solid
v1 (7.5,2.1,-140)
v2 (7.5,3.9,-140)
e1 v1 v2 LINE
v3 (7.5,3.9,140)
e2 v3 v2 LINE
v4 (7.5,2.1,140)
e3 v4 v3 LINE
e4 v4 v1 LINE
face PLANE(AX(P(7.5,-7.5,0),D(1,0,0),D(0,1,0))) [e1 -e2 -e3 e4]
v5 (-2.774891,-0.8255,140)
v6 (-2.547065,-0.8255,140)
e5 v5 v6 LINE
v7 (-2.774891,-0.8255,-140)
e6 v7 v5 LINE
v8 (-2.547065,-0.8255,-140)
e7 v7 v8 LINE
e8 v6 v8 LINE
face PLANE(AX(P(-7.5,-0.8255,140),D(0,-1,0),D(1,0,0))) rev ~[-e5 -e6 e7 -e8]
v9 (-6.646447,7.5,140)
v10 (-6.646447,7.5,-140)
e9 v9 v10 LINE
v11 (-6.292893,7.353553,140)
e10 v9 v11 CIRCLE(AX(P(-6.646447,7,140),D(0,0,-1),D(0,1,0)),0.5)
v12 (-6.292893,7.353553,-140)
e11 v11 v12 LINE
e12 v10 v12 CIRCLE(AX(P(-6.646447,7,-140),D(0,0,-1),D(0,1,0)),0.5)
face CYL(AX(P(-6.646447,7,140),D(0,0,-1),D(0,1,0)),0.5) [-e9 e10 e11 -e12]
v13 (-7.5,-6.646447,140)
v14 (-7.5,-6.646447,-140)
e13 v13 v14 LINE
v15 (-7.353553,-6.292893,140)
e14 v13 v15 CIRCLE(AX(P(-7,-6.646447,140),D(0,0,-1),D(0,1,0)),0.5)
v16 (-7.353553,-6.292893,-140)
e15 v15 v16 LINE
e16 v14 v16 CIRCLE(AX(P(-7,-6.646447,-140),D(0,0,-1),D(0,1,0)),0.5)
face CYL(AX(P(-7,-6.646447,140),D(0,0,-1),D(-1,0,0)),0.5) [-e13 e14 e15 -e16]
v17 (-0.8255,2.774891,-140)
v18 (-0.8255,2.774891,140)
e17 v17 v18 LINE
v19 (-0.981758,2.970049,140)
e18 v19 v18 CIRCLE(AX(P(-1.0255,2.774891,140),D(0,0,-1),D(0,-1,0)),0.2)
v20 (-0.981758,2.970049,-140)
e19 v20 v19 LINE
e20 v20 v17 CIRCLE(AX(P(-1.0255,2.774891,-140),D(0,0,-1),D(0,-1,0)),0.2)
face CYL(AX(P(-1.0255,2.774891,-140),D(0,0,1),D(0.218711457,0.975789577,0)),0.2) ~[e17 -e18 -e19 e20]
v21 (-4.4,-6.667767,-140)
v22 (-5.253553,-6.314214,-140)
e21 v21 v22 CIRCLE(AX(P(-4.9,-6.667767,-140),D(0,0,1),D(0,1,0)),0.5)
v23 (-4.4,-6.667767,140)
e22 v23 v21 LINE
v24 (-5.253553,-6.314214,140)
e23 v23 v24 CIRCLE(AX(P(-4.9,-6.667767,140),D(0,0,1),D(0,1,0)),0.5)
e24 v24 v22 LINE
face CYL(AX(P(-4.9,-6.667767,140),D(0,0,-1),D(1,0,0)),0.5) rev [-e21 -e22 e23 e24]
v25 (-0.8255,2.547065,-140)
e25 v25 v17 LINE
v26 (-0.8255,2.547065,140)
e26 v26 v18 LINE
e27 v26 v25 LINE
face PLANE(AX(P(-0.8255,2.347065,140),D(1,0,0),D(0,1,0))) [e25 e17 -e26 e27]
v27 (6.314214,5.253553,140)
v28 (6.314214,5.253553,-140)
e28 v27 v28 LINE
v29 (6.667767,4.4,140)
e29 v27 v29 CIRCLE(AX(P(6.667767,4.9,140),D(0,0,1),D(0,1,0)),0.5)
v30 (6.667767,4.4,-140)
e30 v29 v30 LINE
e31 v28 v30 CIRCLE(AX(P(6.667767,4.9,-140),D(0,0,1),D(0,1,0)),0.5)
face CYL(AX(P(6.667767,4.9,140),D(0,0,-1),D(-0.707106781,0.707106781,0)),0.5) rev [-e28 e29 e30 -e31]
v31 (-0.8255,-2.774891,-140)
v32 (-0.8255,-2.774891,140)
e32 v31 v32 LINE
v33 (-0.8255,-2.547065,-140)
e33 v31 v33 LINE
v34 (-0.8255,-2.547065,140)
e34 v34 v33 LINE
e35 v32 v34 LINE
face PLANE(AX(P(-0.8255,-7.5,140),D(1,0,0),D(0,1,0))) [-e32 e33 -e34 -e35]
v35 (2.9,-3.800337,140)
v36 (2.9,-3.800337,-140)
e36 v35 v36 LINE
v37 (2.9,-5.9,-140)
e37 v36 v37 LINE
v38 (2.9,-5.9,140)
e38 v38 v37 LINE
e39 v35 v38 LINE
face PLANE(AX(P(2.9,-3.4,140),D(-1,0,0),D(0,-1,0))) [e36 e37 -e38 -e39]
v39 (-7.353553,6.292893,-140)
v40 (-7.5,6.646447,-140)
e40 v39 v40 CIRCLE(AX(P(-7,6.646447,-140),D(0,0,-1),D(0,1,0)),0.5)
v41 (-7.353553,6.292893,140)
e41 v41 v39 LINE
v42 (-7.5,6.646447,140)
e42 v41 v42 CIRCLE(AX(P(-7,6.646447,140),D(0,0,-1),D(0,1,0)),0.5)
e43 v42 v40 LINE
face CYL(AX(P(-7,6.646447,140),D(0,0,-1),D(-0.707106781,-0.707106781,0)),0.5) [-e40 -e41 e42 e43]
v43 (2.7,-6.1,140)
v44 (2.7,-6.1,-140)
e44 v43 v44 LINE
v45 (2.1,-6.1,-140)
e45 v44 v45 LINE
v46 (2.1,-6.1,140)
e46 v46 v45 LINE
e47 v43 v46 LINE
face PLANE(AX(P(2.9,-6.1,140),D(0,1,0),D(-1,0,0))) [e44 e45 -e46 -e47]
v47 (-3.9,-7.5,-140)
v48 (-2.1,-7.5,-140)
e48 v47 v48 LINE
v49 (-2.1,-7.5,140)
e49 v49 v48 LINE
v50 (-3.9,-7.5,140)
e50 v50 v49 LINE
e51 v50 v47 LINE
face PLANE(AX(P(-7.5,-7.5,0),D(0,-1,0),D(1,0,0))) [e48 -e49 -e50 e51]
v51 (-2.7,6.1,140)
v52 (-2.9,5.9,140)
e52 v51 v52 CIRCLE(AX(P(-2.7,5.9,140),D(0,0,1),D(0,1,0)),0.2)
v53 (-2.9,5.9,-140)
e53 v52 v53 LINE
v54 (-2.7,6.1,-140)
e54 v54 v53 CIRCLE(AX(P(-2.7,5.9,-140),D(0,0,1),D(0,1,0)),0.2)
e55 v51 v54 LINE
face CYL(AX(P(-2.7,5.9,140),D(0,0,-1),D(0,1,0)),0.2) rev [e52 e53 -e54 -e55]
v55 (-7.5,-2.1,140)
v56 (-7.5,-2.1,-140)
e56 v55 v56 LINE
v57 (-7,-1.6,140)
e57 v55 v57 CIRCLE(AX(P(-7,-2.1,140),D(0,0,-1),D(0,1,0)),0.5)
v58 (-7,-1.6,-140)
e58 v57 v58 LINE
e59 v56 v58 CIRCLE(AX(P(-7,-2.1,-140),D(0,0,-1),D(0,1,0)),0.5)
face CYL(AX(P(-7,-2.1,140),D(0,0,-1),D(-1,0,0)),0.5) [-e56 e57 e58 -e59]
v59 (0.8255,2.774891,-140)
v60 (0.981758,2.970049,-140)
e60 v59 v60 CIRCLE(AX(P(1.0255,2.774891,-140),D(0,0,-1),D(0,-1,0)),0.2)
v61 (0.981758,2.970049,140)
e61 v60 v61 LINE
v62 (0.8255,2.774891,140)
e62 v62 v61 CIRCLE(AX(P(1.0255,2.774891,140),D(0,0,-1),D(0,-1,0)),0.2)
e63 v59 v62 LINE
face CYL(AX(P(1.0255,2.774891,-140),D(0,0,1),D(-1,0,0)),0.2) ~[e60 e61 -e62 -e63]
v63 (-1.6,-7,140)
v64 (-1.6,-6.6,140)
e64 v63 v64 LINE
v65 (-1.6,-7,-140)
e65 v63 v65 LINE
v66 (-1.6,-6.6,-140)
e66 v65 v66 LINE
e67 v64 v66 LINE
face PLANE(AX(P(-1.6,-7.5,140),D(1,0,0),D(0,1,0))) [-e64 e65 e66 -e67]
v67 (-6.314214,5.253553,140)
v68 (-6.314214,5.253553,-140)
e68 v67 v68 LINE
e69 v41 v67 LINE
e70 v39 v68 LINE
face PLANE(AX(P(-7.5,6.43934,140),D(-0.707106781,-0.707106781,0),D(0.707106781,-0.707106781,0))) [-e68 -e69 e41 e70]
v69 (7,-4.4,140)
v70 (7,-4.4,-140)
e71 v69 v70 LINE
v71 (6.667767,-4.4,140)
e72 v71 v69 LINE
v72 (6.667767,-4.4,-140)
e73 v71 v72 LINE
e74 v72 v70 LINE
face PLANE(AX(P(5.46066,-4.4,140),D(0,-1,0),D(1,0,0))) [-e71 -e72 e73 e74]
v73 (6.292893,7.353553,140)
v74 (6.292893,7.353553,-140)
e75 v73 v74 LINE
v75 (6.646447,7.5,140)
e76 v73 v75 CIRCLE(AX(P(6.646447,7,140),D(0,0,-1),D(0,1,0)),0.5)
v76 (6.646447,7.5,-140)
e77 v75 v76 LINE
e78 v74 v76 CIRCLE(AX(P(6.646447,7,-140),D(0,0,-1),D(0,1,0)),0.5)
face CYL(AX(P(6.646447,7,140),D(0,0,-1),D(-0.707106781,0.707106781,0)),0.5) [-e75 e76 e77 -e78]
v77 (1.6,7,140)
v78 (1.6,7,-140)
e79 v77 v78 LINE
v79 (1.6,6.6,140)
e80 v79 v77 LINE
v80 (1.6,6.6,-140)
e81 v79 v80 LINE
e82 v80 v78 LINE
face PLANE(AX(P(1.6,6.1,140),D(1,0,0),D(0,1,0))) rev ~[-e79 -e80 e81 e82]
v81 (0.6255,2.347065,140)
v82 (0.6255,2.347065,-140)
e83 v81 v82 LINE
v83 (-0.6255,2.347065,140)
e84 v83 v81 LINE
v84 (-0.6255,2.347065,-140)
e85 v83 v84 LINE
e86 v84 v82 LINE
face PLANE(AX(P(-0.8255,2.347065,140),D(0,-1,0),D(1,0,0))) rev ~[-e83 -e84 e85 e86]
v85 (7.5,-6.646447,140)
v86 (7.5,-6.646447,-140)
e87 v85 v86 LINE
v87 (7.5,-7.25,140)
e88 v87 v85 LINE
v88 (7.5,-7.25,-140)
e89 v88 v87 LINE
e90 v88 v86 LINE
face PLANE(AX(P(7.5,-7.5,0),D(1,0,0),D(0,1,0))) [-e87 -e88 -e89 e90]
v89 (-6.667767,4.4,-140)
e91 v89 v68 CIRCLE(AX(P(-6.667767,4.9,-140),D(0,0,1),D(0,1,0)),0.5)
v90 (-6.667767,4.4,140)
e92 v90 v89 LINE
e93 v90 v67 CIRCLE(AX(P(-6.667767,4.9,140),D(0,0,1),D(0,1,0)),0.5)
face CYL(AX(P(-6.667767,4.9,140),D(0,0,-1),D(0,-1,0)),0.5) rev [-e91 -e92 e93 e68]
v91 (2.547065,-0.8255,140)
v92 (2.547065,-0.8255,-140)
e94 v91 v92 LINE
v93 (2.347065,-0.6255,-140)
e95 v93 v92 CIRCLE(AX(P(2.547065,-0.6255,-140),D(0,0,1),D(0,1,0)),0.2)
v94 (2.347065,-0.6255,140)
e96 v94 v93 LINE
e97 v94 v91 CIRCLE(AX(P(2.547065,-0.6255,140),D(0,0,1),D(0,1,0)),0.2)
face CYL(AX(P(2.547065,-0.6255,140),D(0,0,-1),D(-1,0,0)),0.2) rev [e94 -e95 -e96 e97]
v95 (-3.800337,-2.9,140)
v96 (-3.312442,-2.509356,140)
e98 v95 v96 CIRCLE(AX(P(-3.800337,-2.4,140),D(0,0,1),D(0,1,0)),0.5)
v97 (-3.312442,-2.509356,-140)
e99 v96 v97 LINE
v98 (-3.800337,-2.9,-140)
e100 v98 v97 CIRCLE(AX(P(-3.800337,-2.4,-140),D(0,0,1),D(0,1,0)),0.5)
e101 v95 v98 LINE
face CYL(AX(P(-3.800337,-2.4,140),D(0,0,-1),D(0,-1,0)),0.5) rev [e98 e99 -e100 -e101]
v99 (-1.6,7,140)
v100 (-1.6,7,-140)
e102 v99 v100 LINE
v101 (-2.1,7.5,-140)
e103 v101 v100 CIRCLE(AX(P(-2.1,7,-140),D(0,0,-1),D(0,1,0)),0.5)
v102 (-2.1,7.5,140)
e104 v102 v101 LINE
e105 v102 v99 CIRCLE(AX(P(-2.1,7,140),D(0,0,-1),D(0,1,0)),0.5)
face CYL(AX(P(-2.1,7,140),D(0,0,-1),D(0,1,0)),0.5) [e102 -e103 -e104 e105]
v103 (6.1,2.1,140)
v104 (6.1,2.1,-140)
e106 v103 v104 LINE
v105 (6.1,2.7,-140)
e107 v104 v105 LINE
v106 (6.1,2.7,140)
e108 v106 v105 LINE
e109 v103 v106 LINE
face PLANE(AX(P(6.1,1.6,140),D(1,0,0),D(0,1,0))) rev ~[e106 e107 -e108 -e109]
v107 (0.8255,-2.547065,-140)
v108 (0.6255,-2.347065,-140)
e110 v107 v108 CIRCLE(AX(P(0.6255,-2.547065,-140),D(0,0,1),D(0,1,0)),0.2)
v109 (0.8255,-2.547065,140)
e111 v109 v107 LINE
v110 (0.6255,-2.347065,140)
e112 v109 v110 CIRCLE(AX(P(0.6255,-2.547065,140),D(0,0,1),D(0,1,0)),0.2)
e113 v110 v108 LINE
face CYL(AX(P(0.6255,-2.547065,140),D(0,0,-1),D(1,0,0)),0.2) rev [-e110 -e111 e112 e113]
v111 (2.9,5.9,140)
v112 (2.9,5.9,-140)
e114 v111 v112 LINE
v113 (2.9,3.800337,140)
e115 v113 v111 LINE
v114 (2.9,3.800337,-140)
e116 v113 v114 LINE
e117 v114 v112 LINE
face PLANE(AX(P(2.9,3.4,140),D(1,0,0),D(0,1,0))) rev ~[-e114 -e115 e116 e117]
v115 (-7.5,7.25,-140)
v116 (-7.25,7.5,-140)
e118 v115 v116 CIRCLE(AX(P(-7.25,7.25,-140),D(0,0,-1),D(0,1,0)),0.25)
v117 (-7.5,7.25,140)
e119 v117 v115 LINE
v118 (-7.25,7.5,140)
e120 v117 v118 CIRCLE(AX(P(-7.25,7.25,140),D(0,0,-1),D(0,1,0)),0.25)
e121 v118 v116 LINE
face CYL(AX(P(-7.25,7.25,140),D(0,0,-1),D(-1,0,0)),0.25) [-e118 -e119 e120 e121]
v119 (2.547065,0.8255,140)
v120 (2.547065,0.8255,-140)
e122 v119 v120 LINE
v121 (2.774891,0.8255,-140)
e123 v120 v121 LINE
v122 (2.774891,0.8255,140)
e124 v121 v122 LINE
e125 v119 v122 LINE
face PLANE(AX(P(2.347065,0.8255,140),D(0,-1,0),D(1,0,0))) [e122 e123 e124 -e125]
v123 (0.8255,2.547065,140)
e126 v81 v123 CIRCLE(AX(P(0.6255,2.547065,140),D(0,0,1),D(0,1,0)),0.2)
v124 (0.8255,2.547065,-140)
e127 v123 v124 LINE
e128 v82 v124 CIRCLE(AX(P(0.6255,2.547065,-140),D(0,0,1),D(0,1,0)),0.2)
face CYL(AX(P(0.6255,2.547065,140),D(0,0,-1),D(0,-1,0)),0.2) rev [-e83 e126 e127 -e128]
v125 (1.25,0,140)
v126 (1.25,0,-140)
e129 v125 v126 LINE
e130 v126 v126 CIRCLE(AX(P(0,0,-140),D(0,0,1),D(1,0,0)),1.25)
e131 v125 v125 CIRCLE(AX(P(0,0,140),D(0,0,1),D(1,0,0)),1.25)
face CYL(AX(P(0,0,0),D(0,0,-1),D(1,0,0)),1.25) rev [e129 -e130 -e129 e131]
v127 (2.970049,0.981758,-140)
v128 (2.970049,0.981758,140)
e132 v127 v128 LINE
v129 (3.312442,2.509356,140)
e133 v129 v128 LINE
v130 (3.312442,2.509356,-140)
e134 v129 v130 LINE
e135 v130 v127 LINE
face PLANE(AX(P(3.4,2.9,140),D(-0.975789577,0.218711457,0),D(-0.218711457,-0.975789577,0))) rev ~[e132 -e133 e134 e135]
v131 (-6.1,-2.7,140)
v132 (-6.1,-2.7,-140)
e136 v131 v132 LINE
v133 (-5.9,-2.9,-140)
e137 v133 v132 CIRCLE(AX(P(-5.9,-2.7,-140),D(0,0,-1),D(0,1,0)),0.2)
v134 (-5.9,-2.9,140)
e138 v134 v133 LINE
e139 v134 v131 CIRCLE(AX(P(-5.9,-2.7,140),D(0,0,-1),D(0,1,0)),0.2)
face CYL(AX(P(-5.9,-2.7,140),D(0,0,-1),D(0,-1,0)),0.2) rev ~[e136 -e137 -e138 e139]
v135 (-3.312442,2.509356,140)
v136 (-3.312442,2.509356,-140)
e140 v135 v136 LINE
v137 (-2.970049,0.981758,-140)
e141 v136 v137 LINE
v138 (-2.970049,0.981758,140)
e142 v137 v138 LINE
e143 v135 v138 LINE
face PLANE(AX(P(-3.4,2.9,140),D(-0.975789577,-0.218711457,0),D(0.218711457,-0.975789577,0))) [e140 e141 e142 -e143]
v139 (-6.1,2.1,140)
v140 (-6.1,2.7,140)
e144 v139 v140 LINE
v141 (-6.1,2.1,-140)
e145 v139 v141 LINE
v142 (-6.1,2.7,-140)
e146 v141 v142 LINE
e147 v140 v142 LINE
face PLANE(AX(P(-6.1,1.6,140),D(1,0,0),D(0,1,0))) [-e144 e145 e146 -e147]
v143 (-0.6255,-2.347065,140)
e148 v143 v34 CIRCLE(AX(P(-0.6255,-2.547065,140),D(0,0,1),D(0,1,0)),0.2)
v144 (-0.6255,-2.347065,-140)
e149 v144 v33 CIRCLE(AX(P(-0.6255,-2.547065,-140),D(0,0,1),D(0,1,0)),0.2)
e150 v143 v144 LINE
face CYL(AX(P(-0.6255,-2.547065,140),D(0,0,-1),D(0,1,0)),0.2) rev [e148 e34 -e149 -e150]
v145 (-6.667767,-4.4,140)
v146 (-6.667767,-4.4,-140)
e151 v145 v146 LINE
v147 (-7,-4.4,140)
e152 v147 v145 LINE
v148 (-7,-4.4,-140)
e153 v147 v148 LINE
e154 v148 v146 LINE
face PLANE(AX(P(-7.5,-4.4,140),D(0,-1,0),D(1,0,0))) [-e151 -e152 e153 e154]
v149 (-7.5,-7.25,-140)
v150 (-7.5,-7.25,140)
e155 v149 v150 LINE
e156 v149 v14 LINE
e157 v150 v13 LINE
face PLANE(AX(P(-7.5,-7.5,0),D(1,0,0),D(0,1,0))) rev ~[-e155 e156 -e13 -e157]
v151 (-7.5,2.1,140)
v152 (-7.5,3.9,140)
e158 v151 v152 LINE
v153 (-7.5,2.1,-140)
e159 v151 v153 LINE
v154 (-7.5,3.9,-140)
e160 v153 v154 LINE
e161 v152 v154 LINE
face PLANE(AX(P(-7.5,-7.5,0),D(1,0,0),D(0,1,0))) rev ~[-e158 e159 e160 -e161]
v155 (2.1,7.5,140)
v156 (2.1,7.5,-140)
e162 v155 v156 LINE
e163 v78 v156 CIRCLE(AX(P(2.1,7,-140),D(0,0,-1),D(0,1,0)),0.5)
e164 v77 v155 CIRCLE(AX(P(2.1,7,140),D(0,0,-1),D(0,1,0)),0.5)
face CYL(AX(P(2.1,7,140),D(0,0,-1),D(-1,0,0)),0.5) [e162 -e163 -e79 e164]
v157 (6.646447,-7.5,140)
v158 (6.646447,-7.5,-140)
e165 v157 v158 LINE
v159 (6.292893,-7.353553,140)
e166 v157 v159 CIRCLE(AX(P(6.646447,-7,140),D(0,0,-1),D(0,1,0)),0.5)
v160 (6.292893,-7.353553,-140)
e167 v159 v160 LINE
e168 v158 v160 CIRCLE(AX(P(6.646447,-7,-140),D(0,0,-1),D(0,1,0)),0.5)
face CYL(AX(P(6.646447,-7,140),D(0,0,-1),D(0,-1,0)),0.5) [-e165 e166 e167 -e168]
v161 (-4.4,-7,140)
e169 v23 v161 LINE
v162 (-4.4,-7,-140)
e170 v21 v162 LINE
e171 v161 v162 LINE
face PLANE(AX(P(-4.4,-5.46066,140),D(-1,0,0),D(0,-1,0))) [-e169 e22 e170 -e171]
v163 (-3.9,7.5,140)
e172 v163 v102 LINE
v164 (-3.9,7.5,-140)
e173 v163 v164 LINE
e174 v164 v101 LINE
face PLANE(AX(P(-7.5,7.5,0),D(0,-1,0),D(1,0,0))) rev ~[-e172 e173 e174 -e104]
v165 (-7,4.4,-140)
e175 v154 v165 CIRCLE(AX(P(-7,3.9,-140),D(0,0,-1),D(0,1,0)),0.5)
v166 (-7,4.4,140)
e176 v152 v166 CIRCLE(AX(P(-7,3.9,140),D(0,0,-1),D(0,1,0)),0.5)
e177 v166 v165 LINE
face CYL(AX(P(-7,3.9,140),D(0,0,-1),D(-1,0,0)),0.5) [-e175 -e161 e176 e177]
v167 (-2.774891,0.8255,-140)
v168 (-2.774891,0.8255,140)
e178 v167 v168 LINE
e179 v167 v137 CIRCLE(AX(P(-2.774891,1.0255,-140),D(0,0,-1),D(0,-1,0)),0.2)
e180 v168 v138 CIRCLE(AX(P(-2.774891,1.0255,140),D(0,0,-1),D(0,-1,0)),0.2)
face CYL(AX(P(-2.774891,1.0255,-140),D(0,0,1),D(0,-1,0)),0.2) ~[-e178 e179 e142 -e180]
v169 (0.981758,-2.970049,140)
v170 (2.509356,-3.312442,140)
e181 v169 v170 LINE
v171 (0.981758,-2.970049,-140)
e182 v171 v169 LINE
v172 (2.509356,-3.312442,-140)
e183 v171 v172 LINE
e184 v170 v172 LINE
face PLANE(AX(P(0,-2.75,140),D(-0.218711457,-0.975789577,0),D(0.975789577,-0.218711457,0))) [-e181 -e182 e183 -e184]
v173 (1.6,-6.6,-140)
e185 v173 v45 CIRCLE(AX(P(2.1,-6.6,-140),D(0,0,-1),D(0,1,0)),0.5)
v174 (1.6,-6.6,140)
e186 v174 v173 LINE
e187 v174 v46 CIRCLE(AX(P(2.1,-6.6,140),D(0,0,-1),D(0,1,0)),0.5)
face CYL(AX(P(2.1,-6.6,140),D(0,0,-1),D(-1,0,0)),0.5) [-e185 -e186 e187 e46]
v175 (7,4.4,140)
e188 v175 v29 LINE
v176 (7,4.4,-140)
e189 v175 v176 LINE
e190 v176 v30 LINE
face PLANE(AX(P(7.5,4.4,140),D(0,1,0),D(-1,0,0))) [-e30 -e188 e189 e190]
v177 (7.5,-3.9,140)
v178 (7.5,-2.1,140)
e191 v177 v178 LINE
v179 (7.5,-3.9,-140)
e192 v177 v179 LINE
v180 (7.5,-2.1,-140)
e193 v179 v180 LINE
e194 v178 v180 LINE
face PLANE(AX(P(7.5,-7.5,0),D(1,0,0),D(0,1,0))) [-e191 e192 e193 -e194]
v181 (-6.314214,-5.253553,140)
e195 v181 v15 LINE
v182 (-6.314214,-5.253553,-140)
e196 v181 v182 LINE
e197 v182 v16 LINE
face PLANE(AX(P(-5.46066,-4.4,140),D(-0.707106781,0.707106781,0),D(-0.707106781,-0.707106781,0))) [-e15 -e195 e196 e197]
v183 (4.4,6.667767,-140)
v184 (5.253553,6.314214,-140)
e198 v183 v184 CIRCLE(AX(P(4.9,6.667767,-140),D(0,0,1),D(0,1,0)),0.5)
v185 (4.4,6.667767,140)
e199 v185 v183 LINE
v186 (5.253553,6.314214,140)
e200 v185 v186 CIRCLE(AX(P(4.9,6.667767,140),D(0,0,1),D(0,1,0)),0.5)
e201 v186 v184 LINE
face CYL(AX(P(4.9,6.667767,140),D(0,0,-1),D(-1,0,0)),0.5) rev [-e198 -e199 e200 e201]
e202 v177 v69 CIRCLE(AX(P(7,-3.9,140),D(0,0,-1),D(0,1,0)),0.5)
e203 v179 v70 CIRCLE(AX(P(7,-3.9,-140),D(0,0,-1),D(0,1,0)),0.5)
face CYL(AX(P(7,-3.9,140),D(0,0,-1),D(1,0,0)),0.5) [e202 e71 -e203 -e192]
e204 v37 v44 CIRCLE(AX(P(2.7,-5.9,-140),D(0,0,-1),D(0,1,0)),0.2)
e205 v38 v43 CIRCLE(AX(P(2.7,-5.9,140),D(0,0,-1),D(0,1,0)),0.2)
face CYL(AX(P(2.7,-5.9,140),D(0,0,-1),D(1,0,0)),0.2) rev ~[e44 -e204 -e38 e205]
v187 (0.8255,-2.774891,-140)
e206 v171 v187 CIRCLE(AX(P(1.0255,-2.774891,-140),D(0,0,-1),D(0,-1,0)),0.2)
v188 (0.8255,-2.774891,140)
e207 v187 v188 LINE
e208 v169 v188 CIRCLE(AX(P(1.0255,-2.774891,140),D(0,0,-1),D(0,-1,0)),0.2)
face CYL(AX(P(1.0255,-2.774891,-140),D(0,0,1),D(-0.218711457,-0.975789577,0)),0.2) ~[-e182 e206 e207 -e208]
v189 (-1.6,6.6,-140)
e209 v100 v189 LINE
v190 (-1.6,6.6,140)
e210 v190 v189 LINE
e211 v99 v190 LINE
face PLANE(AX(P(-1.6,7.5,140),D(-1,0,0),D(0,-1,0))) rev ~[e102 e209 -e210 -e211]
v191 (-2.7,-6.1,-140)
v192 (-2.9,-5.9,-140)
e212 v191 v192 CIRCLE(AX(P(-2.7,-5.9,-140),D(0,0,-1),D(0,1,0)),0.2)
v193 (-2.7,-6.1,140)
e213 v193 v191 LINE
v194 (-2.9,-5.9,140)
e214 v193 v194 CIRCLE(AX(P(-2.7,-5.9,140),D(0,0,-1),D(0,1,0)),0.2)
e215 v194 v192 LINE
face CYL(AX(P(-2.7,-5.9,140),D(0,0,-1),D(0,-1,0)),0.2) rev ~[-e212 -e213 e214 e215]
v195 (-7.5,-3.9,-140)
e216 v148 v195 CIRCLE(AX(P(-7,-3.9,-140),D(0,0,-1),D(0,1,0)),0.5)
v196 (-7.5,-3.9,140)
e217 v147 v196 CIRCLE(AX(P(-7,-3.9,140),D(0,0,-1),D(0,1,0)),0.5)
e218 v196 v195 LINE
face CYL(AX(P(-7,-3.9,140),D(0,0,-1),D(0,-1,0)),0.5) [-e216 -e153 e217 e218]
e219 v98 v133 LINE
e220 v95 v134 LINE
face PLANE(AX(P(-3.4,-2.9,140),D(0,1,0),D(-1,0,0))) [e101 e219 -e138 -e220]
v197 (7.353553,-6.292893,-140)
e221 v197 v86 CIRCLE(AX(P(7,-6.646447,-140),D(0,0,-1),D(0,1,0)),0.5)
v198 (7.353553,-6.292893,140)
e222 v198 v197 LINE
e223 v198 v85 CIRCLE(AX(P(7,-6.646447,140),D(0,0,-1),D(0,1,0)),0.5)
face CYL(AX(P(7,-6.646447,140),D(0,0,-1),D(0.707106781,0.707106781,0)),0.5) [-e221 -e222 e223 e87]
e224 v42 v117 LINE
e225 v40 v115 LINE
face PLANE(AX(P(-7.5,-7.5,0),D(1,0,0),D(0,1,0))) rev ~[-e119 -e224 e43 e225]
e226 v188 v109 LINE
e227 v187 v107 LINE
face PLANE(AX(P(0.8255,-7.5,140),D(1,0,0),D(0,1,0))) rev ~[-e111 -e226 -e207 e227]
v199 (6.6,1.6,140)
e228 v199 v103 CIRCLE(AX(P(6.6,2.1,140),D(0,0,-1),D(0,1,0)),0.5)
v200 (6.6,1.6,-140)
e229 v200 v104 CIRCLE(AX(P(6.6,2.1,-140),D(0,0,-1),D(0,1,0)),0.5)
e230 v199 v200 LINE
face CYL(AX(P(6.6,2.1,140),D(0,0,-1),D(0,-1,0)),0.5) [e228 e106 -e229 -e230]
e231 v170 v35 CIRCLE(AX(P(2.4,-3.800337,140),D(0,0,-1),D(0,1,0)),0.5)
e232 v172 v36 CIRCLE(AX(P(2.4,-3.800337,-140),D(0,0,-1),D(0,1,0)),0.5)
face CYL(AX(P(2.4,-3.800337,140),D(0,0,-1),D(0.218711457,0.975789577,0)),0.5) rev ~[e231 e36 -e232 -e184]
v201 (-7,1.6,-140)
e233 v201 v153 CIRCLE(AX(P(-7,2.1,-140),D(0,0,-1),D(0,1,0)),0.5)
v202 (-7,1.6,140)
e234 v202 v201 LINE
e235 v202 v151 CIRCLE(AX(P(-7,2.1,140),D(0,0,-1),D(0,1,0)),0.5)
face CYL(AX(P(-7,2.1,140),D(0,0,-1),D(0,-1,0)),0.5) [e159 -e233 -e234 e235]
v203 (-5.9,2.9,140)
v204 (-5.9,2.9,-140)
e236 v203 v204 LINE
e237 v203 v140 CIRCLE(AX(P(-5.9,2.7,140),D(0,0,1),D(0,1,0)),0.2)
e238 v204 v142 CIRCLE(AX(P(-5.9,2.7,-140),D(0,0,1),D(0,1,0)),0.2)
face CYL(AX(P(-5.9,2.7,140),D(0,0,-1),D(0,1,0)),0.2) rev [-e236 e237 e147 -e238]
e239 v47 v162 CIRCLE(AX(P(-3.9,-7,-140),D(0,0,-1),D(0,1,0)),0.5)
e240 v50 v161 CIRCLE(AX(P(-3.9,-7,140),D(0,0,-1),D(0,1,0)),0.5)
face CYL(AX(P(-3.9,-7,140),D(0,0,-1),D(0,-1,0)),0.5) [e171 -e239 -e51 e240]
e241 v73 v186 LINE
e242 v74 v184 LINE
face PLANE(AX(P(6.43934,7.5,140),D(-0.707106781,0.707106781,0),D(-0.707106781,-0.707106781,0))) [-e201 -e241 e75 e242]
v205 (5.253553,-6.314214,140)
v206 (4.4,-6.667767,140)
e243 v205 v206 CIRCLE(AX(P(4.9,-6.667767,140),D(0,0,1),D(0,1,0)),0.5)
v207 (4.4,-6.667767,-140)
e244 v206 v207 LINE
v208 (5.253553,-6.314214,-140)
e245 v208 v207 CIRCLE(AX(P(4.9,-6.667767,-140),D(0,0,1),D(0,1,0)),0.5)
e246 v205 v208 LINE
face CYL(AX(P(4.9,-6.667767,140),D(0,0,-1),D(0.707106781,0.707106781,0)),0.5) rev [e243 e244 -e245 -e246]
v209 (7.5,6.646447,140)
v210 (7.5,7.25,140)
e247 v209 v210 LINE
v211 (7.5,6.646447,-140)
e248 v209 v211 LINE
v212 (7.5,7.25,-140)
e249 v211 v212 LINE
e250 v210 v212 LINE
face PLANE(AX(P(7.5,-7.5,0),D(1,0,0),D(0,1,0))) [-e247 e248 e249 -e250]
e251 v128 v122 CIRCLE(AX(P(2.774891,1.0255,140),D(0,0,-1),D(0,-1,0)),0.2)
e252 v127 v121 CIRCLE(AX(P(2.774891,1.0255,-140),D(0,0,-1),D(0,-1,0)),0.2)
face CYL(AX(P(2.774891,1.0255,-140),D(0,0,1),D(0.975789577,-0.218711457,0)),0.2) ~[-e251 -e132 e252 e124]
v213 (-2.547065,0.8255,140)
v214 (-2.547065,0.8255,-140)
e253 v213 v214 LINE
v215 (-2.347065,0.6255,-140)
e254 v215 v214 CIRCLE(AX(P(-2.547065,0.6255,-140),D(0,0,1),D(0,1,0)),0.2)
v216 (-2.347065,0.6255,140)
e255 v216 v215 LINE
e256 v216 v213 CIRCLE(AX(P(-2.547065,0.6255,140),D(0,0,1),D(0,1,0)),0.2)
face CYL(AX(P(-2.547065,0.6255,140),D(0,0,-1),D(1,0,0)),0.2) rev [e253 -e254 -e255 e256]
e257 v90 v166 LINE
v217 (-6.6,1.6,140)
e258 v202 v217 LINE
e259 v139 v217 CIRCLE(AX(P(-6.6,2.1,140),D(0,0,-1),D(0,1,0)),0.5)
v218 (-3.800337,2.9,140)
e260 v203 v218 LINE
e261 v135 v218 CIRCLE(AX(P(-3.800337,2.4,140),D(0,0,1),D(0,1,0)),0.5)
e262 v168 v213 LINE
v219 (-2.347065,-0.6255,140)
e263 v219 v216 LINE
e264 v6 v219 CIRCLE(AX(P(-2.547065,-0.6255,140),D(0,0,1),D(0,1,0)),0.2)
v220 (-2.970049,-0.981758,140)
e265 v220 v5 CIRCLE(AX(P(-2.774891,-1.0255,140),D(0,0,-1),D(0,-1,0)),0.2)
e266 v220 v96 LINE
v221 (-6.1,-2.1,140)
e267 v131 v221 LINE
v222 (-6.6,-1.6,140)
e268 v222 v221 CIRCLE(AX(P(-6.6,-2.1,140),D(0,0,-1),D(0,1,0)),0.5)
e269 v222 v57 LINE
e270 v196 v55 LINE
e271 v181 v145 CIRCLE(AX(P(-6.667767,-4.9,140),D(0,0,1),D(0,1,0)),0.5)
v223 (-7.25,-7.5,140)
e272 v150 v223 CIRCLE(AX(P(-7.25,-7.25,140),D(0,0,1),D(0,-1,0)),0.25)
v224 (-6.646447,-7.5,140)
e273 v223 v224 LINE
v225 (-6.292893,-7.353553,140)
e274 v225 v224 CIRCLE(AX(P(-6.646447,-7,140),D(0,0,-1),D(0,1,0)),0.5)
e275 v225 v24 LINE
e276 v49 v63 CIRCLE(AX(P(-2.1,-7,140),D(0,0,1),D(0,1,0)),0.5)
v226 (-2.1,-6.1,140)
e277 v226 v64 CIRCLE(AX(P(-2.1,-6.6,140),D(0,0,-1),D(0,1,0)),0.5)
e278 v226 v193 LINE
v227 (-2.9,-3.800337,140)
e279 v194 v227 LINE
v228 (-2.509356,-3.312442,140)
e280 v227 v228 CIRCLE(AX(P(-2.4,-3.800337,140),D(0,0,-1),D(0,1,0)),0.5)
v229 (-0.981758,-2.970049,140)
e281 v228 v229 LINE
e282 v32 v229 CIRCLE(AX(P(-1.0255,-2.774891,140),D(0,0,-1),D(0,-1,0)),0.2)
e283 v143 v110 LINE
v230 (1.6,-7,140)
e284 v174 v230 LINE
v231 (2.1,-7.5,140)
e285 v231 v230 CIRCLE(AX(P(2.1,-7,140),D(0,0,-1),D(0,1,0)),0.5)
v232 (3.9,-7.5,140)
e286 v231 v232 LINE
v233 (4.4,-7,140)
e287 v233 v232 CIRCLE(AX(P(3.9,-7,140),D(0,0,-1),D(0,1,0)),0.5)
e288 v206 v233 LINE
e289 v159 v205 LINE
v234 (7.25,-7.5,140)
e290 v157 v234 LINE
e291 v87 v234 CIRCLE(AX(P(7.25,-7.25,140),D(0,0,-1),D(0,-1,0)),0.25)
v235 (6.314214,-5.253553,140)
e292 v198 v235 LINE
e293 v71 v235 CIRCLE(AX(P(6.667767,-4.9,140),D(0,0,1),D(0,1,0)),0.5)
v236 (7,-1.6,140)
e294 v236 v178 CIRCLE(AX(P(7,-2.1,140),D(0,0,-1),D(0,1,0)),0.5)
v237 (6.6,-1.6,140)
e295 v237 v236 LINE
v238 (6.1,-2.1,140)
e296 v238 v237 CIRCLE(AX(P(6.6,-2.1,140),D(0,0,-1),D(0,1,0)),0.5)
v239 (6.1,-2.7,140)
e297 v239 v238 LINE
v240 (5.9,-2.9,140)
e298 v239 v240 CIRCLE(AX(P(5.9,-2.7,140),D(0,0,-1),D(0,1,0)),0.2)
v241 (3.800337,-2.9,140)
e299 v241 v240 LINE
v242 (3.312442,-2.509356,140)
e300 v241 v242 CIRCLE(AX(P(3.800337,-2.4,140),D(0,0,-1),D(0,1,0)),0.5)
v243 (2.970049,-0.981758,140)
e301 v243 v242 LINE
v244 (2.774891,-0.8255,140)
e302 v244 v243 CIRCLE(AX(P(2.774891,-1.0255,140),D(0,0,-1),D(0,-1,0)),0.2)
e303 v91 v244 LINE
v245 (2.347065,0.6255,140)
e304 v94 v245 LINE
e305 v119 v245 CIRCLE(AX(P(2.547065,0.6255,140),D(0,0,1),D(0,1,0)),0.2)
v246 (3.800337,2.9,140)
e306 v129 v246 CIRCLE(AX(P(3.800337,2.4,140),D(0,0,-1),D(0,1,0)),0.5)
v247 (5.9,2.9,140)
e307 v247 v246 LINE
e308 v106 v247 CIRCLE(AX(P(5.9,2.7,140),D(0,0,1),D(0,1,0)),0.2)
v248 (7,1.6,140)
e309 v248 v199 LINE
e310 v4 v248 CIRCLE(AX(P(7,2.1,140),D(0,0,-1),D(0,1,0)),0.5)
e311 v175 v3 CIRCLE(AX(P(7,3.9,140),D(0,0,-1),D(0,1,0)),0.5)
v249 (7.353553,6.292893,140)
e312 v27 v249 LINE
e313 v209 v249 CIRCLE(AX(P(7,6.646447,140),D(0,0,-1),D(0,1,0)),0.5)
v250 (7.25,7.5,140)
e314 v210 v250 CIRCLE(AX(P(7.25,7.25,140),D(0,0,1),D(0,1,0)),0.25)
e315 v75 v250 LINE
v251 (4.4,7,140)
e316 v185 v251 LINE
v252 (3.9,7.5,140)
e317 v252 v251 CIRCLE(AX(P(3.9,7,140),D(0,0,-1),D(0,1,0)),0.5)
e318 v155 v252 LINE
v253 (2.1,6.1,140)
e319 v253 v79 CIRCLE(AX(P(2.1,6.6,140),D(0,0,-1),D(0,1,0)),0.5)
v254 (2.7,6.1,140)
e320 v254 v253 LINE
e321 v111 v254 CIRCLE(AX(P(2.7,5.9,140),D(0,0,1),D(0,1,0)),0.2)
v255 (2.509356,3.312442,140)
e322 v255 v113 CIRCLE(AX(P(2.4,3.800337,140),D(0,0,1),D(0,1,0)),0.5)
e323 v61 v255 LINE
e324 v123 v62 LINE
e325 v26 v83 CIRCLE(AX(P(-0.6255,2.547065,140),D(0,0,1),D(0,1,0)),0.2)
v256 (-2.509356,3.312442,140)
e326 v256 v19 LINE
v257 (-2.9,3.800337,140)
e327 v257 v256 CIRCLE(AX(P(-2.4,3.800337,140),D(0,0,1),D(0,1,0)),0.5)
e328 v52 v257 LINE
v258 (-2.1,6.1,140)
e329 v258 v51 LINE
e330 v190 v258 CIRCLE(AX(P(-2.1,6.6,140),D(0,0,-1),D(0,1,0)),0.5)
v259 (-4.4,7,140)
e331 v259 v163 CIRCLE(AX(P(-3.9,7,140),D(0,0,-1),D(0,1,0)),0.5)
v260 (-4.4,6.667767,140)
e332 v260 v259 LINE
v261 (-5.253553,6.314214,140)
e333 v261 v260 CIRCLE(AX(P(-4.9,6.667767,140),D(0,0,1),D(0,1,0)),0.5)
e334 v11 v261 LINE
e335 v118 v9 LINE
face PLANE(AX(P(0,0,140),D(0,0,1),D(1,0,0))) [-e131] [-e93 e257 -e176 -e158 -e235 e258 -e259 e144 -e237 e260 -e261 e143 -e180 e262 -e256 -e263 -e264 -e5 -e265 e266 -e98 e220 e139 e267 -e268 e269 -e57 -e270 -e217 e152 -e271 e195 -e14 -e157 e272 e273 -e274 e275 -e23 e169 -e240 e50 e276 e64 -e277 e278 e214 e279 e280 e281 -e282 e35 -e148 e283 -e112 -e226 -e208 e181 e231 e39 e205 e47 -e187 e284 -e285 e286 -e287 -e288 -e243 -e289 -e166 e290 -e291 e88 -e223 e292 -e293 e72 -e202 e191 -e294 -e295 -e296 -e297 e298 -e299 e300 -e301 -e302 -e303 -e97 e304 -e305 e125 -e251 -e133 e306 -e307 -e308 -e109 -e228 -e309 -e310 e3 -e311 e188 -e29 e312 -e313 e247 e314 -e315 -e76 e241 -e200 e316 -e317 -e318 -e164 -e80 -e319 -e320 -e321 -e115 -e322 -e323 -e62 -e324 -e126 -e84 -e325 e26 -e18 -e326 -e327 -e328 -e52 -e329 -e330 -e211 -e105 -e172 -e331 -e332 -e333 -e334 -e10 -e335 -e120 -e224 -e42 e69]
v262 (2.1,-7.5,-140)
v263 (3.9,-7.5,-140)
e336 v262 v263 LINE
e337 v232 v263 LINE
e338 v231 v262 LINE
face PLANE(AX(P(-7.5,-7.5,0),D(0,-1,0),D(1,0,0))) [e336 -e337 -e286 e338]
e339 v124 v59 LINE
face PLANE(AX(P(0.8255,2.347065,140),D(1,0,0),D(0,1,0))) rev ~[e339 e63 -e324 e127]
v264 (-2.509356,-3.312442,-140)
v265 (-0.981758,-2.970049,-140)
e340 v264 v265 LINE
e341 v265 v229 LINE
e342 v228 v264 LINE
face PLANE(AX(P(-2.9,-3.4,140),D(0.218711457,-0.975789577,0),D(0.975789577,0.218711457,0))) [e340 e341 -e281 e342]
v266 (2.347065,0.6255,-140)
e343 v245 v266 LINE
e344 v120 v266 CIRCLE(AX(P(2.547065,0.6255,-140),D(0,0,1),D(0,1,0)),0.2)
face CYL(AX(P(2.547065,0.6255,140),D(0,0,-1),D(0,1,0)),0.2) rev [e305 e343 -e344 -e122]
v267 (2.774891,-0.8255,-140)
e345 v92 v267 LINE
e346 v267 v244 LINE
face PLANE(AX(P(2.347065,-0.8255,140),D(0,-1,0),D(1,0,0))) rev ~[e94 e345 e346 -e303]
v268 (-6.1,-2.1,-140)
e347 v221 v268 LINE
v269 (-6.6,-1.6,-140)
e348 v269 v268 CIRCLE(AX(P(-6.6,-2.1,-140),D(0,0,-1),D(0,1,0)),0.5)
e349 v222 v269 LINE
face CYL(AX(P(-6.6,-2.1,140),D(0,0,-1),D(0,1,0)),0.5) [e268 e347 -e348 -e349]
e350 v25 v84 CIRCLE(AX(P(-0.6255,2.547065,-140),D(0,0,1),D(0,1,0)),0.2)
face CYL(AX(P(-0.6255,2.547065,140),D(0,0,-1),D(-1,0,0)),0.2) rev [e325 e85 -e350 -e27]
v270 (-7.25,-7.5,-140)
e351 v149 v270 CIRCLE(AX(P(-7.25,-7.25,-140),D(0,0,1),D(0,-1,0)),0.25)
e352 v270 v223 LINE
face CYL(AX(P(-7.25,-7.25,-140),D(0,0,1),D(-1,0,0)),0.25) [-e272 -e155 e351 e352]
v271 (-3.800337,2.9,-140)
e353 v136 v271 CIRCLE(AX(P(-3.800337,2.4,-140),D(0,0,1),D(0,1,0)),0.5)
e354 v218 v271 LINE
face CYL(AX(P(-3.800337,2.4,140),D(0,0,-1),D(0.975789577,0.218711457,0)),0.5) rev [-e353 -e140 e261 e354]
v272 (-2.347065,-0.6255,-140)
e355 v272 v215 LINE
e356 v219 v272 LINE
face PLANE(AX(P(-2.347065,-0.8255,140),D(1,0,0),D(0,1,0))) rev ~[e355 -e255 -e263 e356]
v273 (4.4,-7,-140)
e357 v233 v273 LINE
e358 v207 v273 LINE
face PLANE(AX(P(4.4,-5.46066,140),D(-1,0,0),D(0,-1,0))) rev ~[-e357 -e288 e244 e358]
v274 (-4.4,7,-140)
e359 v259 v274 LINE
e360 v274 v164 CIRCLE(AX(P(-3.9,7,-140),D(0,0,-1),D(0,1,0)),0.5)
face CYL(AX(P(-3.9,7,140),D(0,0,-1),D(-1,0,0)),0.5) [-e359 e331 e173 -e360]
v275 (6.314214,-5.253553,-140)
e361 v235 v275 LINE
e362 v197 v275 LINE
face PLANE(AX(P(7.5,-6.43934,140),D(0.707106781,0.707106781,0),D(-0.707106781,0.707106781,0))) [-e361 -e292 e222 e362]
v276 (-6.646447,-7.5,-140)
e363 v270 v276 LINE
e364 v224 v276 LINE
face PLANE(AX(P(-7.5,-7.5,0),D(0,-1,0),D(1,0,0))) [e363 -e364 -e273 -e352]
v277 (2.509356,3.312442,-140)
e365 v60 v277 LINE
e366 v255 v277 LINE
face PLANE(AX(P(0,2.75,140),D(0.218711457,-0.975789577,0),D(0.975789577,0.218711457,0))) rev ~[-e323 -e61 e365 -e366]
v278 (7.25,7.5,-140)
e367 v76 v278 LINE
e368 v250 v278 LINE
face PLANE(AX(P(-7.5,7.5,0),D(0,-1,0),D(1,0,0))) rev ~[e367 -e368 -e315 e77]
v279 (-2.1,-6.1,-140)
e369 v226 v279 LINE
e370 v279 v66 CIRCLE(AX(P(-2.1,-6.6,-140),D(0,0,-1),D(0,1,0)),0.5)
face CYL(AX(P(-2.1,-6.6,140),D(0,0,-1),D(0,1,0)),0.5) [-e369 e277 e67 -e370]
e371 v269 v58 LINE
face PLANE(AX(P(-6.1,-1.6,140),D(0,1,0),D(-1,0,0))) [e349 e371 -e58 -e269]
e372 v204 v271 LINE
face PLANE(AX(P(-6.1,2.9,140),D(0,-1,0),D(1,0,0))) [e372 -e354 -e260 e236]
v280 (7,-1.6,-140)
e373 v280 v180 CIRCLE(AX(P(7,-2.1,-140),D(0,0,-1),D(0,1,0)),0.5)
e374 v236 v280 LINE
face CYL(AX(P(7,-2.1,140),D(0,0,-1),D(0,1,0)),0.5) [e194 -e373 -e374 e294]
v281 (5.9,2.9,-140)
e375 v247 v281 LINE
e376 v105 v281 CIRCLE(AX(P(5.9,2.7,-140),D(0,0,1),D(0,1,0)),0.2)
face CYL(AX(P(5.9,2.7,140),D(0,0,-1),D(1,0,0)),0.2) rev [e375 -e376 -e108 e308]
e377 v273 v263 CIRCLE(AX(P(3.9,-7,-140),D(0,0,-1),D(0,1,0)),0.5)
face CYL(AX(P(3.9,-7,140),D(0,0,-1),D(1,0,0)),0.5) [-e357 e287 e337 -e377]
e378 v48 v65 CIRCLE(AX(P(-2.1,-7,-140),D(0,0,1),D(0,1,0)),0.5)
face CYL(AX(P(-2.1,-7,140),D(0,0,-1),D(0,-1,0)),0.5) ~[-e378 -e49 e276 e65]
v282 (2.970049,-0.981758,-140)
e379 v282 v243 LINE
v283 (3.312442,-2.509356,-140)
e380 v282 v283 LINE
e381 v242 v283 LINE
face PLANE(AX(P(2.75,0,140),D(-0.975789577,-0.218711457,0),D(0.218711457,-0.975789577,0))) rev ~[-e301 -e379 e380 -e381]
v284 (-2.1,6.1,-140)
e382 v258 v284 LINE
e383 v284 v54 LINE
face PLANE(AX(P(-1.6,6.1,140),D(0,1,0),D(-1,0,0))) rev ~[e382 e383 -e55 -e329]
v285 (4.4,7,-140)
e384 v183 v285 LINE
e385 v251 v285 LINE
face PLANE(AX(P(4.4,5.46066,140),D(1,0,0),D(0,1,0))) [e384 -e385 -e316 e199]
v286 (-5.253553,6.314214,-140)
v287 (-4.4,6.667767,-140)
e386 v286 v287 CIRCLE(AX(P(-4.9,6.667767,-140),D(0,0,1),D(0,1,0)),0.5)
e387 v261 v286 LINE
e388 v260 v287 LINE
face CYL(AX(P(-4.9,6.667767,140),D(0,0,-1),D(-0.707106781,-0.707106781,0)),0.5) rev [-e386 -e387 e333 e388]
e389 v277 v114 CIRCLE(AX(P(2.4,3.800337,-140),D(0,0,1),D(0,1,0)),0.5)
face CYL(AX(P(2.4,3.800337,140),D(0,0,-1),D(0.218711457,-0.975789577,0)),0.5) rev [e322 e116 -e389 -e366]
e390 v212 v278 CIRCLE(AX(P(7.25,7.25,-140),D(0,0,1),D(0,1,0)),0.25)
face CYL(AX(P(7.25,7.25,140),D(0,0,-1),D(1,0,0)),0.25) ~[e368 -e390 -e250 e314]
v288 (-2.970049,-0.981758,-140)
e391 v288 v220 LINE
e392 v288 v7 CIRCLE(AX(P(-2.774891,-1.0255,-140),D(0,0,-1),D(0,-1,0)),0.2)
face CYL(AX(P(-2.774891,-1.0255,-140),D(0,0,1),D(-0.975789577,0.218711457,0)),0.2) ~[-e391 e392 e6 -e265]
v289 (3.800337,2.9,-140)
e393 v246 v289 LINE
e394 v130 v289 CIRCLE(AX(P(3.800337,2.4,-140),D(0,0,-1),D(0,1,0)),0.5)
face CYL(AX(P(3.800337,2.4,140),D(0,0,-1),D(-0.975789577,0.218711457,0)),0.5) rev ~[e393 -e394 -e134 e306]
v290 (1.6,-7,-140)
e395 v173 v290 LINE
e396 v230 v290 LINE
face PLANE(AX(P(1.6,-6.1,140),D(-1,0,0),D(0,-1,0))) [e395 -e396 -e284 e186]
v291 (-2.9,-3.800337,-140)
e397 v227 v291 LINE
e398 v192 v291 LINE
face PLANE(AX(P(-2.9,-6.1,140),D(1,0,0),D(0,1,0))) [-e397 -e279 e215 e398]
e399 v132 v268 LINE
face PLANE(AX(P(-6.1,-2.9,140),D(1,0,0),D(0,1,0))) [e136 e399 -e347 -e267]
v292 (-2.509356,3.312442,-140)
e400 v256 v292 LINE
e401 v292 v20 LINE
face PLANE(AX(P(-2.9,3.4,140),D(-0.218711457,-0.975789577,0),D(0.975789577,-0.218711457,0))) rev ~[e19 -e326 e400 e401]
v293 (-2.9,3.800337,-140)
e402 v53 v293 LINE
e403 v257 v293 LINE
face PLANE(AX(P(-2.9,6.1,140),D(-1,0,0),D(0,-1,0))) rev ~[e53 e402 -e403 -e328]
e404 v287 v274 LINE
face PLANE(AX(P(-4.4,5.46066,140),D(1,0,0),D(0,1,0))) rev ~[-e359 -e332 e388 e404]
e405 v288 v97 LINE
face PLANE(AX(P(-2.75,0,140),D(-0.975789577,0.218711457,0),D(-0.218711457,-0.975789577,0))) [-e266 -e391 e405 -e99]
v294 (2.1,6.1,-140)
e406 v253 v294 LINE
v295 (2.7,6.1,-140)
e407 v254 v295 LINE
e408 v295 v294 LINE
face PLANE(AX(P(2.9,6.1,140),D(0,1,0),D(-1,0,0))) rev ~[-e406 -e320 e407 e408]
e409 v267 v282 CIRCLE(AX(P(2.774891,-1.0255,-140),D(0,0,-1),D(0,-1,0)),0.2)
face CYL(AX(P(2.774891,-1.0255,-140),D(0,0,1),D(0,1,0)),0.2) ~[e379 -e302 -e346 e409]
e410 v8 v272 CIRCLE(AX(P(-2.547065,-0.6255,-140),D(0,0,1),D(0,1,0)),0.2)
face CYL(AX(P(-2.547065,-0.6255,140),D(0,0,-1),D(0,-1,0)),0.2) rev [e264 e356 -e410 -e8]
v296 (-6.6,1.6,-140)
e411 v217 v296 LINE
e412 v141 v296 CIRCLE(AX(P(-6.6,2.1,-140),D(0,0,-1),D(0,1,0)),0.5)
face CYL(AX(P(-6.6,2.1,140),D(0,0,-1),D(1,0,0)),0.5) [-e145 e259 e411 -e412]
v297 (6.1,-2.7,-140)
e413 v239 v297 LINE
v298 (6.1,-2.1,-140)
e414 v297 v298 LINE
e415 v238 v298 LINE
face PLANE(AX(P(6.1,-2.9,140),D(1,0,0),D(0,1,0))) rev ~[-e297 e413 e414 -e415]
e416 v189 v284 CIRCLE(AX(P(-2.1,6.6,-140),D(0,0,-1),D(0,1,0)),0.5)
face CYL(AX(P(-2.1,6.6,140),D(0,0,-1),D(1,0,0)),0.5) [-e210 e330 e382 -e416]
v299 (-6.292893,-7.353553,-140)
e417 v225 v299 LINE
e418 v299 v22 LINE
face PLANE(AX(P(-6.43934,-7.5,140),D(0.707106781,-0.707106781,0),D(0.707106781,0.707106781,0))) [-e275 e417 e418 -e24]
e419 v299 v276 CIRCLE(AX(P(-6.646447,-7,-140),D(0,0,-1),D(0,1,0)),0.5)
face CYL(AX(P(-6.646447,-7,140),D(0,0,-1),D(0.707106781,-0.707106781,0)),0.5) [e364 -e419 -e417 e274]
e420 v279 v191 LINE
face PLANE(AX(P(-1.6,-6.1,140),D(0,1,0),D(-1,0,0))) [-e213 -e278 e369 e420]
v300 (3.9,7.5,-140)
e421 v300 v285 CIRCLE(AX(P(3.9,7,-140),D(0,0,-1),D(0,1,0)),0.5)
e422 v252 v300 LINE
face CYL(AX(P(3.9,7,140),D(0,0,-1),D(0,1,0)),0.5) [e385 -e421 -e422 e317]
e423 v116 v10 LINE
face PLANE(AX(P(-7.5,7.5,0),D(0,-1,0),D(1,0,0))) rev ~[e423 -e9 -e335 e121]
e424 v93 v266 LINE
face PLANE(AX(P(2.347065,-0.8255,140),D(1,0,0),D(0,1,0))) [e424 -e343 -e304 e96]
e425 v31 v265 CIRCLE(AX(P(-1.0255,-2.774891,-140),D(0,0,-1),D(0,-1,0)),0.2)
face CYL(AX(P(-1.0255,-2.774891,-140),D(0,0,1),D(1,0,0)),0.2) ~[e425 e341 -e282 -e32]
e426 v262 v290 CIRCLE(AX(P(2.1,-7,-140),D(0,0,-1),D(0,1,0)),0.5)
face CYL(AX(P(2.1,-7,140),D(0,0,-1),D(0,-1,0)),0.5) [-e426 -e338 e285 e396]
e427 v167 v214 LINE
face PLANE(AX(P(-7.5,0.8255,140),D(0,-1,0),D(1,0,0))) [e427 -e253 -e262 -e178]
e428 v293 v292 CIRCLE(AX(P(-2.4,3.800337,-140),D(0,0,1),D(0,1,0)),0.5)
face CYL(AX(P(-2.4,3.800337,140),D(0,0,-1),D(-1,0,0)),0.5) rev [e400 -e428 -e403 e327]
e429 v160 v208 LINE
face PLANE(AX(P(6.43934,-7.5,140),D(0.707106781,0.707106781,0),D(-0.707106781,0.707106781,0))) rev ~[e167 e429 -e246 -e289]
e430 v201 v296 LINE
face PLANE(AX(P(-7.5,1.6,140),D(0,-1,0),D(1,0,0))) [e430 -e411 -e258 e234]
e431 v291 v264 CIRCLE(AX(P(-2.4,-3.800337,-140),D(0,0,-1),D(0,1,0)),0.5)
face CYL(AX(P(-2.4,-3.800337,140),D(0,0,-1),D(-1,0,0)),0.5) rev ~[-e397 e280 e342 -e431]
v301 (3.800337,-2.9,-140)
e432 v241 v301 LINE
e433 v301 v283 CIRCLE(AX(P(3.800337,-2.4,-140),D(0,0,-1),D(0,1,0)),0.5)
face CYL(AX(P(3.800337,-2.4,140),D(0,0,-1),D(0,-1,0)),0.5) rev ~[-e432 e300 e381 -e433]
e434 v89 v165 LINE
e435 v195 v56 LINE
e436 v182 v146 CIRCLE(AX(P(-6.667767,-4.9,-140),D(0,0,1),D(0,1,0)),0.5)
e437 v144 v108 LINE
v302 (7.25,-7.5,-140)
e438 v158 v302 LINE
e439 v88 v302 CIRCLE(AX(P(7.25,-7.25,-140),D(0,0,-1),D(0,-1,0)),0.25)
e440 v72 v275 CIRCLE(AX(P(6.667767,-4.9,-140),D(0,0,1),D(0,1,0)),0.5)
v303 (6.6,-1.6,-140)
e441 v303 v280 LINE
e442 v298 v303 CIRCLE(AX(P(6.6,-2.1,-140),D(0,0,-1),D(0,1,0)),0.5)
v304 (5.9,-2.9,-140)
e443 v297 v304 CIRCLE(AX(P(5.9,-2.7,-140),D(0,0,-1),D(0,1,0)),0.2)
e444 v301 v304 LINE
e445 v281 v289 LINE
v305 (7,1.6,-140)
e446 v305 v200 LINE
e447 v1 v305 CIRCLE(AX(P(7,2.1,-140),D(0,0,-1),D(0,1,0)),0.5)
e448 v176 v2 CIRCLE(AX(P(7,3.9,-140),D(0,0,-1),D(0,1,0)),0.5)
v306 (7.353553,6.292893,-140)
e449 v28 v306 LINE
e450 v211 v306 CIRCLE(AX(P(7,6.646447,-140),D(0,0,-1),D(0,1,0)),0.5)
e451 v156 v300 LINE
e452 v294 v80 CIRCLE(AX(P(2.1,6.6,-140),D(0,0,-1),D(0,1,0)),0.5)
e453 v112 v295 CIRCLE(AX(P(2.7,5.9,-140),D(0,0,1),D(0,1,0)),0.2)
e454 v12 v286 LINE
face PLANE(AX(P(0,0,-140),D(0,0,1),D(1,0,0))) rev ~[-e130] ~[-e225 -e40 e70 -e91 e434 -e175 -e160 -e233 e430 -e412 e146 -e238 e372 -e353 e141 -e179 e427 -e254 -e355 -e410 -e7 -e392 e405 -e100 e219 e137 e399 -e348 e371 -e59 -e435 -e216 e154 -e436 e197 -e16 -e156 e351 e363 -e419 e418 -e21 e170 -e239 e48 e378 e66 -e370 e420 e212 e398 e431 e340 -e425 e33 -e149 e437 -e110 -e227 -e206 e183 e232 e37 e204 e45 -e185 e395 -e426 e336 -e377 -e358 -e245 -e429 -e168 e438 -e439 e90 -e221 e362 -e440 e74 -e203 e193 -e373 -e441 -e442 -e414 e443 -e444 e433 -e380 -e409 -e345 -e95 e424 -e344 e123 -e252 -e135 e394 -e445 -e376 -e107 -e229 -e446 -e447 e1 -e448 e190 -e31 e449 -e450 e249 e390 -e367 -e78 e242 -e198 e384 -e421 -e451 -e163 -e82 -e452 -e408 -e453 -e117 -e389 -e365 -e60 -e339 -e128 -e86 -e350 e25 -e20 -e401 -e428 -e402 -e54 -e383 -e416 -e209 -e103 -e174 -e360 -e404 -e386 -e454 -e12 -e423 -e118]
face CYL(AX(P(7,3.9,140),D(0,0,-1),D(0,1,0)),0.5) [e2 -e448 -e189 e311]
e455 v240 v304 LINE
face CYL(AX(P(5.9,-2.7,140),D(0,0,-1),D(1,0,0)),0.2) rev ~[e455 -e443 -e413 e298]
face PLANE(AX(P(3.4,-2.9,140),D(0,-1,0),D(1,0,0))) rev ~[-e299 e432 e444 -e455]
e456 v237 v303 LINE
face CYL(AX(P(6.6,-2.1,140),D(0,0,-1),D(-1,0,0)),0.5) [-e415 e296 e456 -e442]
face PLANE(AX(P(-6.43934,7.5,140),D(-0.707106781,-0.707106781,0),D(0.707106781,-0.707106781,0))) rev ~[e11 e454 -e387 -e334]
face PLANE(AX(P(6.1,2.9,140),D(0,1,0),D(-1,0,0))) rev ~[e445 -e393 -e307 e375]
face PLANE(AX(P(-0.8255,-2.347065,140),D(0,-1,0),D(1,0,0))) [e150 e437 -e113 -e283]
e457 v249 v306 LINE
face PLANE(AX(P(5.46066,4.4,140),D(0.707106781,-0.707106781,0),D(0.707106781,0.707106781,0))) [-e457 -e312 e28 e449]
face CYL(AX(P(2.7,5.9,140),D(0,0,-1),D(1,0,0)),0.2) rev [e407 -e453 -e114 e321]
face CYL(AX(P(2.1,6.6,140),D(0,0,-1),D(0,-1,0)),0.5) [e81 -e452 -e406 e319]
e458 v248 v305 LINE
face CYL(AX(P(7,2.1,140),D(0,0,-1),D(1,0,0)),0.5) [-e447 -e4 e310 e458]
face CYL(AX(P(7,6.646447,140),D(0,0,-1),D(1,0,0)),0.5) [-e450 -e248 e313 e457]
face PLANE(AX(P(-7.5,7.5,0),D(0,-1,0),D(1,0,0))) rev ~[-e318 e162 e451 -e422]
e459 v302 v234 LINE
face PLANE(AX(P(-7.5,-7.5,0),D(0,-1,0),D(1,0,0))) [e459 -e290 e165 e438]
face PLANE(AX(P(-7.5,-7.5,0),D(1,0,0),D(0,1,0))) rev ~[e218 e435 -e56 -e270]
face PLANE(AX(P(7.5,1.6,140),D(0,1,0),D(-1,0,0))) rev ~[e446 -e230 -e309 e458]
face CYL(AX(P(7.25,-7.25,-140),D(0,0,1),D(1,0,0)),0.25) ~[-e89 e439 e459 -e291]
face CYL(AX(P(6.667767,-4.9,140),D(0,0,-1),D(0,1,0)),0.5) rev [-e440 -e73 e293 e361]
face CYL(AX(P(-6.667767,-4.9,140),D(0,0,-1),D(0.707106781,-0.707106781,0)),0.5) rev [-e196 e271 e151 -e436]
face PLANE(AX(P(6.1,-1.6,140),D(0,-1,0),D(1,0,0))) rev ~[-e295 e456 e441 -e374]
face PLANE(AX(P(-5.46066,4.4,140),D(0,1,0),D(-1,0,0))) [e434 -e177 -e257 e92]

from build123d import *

# Parameters (mm, degrees)
SKETCH1_W           = 15
SKETCH1_H           = 15
SKETCH1_R           = 1.25
BOSS_EXTRUDE1_DEPTH = 140
FILLET1_R           = 0.25
CUT_EXTRUDE1_DEPTH  = 281.200820841
CUT_EXTRUDE3_DEPTH  = 281.200820841
FILLET3_R           = 0.5
FILLET4_R           = 0.5
FILLET5_R           = 3
FILLET6_R           = 0.2
CUT_EXTRUDE4_DEPTH  = 281.200820841
FILLET8_R           = 0.5
SKETCH6_W           = 5.1529354
SKETCH6_H           = 1.651
SKETCH6_W_2         = 1.651
SKETCH6_H_2         = 5.1529354
CUT_EXTRUDE5_DEPTH  = 281.200820841
FILLET10_R          = 0.2


with BuildPart() as part:
    # Sketch1 → Boss-Extrude1 (new, symmetric)
    with BuildSketch(Plane.XY):
        Rectangle(SKETCH1_W, SKETCH1_H)
        Circle(SKETCH1_R, mode=Mode.SUBTRACT)
    extrude(amount=BOSS_EXTRUDE1_DEPTH, both=True)

    # Fillet1
    fillet1_edges = [part.edges().sort_by_distance(p)[0] for p in [
        (7.5, -7.5, 0),
        (-7.5, -7.5, 0),
        (-7.5, 7.5, 0),
        (7.5, 7.5, 0),
    ]]
    fillet(fillet1_edges, radius=FILLET1_R)

    # Sketch2 → Cut-Extrude1 (cut, through all)
    with BuildSketch(Plane.XY.offset(140)):
        Polygon((-7.5, 1.6), (-6.1, 1.6), (-6.1, 2.9), (-3.4, 2.9), (-3.4, -2.9), (-6.1, -2.9), (-6.1, -1.6), (-7.5, -1.6), align=None)
        Polygon((2.9, 6.1), (1.6, 6.1), (1.6, 7.5), (-1.6, 7.5), (-1.6, 6.1), (-2.9, 6.1), (-2.9, 3.4), (2.9, 3.4), align=None)
        Polygon((-1.6, -7.5), (-1.6, -6.1), (-2.9, -6.1), (-2.9, -3.4), (2.9, -3.4), (2.9, -6.1), (1.6, -6.1), (1.6, -7.5), align=None)
        Polygon((6.1, -2.9), (6.1, -1.6), (7.5, -1.6), (7.5, 1.6), (6.1, 1.6), (6.1, 2.9), (3.4, 2.9), (3.4, -2.9), align=None)
    extrude(amount=-CUT_EXTRUDE1_DEPTH, mode=Mode.SUBTRACT)

    # Sketch4 → Cut-Extrude3 (cut, through all)
    with BuildSketch(Plane.XY.offset(140)):
        Polygon((-3.4, 2.9), (-2.75, 0), (-3.4, -2.9), align=None)
        Polygon((-2.9, 3.4), (0, 2.75), (2.9, 3.4), align=None)
        Polygon((3.4, 2.9), (2.75, 0), (3.4, -2.9), align=None)
        Polygon((-2.9, -3.4), (0, -2.75), (2.9, -3.4), align=None)
    extrude(amount=-CUT_EXTRUDE3_DEPTH, mode=Mode.SUBTRACT)

    # Fillet3
    fillet3_edges = [part.edges().sort_by_distance(p)[0] for p in [
        (1.6, -7.5, 0),
        (-1.6, -7.5, 0),
        (-1.6, -6.1, 0),
        (1.6, -6.1, 0),
        (6.1, 1.6, 0),
        (7.5, 1.6, 0),
        (7.5, -1.6, 0),
        (6.1, -1.6, 0),
        (-7.5, -1.6, 0),
        (-7.5, 1.6, 0),
        (-6.1, 1.6, 0),
        (-6.1, -1.6, 0),
        (-1.6, 6.1, 0),
        (-1.6, 7.5, 0),
        (1.6, 7.5, 0),
        (1.6, 6.1, 0),
    ]]
    fillet(fillet3_edges, radius=FILLET3_R)

    # Fillet4
    fillet4_edges = [part.edges().sort_by_distance(p)[0] for p in [
        (-2.9, -3.4, 0),
        (2.9, -3.4, 0),
        (3.4, -2.9, 0),
        (3.4, 2.9, 0),
        (-3.4, 2.9, 0),
        (-3.4, -2.9, 0),
        (2.9, 3.4, 0),
        (-2.9, 3.4, 0),
    ]]
    fillet(fillet4_edges, radius=FILLET4_R)

    # Fillet5
    fillet5_edges = [part.edges().sort_by_distance(p)[0] for p in [
        (-2.75, 0, 0),
        (0, 2.75, 0),
        (2.75, 0, 0),
        (0, -2.75, 0),
    ]]
    fillet(fillet5_edges, radius=FILLET5_R)

    # Fillet6
    fillet6_edges = [part.edges().sort_by_distance(p)[0] for p in [
        (-2.9, -6.1, 0),
        (2.9, -6.1, 0),
        (6.1, -2.9, 0),
        (6.1, 2.9, 0),
        (-6.1, 2.9, 0),
        (-6.1, -2.9, 0),
        (2.9, 6.1, 0),
        (-2.9, 6.1, 0),
    ]]
    fillet(fillet6_edges, radius=FILLET6_R)

    # Sketch5 → Cut-Extrude4 (cut, through all)
    with BuildSketch(Plane.XY.offset(140)):
        Polygon((-7.5, 6.439339828), (-5.460660172, 4.4), (-7.5, 4.4), align=None)
        Polygon((-6.439339828, 7.5), (-4.4, 5.460660172), (-4.4, 7.5), align=None)
        Polygon((4.4, 7.5), (6.439339828, 7.5), (4.4, 5.460660172), align=None)
        Polygon((7.5, 6.439339828), (7.5, 4.4), (5.460660172, 4.4), align=None)
        Polygon((7.5, -6.439339828), (5.460660172, -4.4), (7.5, -4.4), align=None)
        Polygon((6.439339828, -7.5), (4.4, -5.460660172), (4.4, -7.5), align=None)
        Polygon((-4.4, -7.5), (-6.439339828, -7.5), (-4.4, -5.460660172), align=None)
        Polygon((-7.5, -6.439339828), (-7.5, -4.4), (-5.460660172, -4.4), align=None)
    extrude(amount=-CUT_EXTRUDE4_DEPTH, mode=Mode.SUBTRACT)

    # Fillet8
    fillet8_edges = [part.edges().sort_by_distance(p)[0] for p in [
        (-7.5, 4.4, 0),
        (-7.5, 6.439339828, 0),
        (-5.460660172, 4.4, 0),
        (7.5, -4.4, 0),
        (7.5, -6.439339828, 0),
        (5.460660172, -4.4, 0),
        (5.460660172, 4.4, 0),
        (7.5, 6.439339828, 0),
        (7.5, 4.4, 0),
        (-4.4, 7.5, 0),
        (-4.4, 5.460660172, 0),
        (-6.439339828, 7.5, 0),
        (-5.460660172, -4.4, 0),
        (-7.5, -6.439339828, 0),
        (-7.5, -4.4, 0),
        (4.4, 5.460660172, 0),
        (4.4, 7.5, 0),
        (6.439339828, 7.5, 0),
        (6.439339828, -7.5, 0),
        (4.4, -7.5, 0),
        (4.4, -5.460660172, 0),
        (-6.439339828, -7.5, 0),
        (-4.4, -5.460660172, 0),
        (-4.4, -7.5, 0),
    ]]
    fillet(fillet8_edges, radius=FILLET8_R)

    # Sketch6 → Cut-Extrude5 (cut, through all)
    with BuildSketch(Plane.XY.offset(140)):
        with Locations((4.9235323, 0)):
            Rectangle(SKETCH6_W, SKETCH6_H)
        with Locations((0, -4.9235323)):
            Rectangle(SKETCH6_W_2, SKETCH6_H_2)
        with Locations((-4.9235323, 0)):
            Rectangle(SKETCH6_W, SKETCH6_H)
        with Locations((0, 4.9235323)):
            Rectangle(SKETCH6_W_2, SKETCH6_H_2)
    extrude(amount=-CUT_EXTRUDE5_DEPTH, mode=Mode.SUBTRACT)

    # Fillet10
    fillet10_edges = [part.edges().sort_by_distance(p)[0] for p in [
        (0.8255, -2.935025862, 0),
        (-0.8255, -2.935025862, 0),
        (0.8255, -2.3470646, 0),
        (-0.8255, -2.3470646, 0),
        (2.935025862, 0.8255, 0),
        (2.935025862, -0.8255, 0),
        (2.3470646, 0.8255, 0),
        (2.3470646, -0.8255, 0),
        (-2.935025862, -0.8255, 0),
        (-2.935025862, 0.8255, 0),
        (-2.3470646, -0.8255, 0),
        (-2.3470646, 0.8255, 0),
        (-0.8255, 2.935025862, 0),
        (0.8255, 2.935025862, 0),
        (-0.8255, 2.3470646, 0),
        (0.8255, 2.3470646, 0),
    ]]
    fillet(fillet10_edges, radius=FILLET10_R)


solid = part.part
